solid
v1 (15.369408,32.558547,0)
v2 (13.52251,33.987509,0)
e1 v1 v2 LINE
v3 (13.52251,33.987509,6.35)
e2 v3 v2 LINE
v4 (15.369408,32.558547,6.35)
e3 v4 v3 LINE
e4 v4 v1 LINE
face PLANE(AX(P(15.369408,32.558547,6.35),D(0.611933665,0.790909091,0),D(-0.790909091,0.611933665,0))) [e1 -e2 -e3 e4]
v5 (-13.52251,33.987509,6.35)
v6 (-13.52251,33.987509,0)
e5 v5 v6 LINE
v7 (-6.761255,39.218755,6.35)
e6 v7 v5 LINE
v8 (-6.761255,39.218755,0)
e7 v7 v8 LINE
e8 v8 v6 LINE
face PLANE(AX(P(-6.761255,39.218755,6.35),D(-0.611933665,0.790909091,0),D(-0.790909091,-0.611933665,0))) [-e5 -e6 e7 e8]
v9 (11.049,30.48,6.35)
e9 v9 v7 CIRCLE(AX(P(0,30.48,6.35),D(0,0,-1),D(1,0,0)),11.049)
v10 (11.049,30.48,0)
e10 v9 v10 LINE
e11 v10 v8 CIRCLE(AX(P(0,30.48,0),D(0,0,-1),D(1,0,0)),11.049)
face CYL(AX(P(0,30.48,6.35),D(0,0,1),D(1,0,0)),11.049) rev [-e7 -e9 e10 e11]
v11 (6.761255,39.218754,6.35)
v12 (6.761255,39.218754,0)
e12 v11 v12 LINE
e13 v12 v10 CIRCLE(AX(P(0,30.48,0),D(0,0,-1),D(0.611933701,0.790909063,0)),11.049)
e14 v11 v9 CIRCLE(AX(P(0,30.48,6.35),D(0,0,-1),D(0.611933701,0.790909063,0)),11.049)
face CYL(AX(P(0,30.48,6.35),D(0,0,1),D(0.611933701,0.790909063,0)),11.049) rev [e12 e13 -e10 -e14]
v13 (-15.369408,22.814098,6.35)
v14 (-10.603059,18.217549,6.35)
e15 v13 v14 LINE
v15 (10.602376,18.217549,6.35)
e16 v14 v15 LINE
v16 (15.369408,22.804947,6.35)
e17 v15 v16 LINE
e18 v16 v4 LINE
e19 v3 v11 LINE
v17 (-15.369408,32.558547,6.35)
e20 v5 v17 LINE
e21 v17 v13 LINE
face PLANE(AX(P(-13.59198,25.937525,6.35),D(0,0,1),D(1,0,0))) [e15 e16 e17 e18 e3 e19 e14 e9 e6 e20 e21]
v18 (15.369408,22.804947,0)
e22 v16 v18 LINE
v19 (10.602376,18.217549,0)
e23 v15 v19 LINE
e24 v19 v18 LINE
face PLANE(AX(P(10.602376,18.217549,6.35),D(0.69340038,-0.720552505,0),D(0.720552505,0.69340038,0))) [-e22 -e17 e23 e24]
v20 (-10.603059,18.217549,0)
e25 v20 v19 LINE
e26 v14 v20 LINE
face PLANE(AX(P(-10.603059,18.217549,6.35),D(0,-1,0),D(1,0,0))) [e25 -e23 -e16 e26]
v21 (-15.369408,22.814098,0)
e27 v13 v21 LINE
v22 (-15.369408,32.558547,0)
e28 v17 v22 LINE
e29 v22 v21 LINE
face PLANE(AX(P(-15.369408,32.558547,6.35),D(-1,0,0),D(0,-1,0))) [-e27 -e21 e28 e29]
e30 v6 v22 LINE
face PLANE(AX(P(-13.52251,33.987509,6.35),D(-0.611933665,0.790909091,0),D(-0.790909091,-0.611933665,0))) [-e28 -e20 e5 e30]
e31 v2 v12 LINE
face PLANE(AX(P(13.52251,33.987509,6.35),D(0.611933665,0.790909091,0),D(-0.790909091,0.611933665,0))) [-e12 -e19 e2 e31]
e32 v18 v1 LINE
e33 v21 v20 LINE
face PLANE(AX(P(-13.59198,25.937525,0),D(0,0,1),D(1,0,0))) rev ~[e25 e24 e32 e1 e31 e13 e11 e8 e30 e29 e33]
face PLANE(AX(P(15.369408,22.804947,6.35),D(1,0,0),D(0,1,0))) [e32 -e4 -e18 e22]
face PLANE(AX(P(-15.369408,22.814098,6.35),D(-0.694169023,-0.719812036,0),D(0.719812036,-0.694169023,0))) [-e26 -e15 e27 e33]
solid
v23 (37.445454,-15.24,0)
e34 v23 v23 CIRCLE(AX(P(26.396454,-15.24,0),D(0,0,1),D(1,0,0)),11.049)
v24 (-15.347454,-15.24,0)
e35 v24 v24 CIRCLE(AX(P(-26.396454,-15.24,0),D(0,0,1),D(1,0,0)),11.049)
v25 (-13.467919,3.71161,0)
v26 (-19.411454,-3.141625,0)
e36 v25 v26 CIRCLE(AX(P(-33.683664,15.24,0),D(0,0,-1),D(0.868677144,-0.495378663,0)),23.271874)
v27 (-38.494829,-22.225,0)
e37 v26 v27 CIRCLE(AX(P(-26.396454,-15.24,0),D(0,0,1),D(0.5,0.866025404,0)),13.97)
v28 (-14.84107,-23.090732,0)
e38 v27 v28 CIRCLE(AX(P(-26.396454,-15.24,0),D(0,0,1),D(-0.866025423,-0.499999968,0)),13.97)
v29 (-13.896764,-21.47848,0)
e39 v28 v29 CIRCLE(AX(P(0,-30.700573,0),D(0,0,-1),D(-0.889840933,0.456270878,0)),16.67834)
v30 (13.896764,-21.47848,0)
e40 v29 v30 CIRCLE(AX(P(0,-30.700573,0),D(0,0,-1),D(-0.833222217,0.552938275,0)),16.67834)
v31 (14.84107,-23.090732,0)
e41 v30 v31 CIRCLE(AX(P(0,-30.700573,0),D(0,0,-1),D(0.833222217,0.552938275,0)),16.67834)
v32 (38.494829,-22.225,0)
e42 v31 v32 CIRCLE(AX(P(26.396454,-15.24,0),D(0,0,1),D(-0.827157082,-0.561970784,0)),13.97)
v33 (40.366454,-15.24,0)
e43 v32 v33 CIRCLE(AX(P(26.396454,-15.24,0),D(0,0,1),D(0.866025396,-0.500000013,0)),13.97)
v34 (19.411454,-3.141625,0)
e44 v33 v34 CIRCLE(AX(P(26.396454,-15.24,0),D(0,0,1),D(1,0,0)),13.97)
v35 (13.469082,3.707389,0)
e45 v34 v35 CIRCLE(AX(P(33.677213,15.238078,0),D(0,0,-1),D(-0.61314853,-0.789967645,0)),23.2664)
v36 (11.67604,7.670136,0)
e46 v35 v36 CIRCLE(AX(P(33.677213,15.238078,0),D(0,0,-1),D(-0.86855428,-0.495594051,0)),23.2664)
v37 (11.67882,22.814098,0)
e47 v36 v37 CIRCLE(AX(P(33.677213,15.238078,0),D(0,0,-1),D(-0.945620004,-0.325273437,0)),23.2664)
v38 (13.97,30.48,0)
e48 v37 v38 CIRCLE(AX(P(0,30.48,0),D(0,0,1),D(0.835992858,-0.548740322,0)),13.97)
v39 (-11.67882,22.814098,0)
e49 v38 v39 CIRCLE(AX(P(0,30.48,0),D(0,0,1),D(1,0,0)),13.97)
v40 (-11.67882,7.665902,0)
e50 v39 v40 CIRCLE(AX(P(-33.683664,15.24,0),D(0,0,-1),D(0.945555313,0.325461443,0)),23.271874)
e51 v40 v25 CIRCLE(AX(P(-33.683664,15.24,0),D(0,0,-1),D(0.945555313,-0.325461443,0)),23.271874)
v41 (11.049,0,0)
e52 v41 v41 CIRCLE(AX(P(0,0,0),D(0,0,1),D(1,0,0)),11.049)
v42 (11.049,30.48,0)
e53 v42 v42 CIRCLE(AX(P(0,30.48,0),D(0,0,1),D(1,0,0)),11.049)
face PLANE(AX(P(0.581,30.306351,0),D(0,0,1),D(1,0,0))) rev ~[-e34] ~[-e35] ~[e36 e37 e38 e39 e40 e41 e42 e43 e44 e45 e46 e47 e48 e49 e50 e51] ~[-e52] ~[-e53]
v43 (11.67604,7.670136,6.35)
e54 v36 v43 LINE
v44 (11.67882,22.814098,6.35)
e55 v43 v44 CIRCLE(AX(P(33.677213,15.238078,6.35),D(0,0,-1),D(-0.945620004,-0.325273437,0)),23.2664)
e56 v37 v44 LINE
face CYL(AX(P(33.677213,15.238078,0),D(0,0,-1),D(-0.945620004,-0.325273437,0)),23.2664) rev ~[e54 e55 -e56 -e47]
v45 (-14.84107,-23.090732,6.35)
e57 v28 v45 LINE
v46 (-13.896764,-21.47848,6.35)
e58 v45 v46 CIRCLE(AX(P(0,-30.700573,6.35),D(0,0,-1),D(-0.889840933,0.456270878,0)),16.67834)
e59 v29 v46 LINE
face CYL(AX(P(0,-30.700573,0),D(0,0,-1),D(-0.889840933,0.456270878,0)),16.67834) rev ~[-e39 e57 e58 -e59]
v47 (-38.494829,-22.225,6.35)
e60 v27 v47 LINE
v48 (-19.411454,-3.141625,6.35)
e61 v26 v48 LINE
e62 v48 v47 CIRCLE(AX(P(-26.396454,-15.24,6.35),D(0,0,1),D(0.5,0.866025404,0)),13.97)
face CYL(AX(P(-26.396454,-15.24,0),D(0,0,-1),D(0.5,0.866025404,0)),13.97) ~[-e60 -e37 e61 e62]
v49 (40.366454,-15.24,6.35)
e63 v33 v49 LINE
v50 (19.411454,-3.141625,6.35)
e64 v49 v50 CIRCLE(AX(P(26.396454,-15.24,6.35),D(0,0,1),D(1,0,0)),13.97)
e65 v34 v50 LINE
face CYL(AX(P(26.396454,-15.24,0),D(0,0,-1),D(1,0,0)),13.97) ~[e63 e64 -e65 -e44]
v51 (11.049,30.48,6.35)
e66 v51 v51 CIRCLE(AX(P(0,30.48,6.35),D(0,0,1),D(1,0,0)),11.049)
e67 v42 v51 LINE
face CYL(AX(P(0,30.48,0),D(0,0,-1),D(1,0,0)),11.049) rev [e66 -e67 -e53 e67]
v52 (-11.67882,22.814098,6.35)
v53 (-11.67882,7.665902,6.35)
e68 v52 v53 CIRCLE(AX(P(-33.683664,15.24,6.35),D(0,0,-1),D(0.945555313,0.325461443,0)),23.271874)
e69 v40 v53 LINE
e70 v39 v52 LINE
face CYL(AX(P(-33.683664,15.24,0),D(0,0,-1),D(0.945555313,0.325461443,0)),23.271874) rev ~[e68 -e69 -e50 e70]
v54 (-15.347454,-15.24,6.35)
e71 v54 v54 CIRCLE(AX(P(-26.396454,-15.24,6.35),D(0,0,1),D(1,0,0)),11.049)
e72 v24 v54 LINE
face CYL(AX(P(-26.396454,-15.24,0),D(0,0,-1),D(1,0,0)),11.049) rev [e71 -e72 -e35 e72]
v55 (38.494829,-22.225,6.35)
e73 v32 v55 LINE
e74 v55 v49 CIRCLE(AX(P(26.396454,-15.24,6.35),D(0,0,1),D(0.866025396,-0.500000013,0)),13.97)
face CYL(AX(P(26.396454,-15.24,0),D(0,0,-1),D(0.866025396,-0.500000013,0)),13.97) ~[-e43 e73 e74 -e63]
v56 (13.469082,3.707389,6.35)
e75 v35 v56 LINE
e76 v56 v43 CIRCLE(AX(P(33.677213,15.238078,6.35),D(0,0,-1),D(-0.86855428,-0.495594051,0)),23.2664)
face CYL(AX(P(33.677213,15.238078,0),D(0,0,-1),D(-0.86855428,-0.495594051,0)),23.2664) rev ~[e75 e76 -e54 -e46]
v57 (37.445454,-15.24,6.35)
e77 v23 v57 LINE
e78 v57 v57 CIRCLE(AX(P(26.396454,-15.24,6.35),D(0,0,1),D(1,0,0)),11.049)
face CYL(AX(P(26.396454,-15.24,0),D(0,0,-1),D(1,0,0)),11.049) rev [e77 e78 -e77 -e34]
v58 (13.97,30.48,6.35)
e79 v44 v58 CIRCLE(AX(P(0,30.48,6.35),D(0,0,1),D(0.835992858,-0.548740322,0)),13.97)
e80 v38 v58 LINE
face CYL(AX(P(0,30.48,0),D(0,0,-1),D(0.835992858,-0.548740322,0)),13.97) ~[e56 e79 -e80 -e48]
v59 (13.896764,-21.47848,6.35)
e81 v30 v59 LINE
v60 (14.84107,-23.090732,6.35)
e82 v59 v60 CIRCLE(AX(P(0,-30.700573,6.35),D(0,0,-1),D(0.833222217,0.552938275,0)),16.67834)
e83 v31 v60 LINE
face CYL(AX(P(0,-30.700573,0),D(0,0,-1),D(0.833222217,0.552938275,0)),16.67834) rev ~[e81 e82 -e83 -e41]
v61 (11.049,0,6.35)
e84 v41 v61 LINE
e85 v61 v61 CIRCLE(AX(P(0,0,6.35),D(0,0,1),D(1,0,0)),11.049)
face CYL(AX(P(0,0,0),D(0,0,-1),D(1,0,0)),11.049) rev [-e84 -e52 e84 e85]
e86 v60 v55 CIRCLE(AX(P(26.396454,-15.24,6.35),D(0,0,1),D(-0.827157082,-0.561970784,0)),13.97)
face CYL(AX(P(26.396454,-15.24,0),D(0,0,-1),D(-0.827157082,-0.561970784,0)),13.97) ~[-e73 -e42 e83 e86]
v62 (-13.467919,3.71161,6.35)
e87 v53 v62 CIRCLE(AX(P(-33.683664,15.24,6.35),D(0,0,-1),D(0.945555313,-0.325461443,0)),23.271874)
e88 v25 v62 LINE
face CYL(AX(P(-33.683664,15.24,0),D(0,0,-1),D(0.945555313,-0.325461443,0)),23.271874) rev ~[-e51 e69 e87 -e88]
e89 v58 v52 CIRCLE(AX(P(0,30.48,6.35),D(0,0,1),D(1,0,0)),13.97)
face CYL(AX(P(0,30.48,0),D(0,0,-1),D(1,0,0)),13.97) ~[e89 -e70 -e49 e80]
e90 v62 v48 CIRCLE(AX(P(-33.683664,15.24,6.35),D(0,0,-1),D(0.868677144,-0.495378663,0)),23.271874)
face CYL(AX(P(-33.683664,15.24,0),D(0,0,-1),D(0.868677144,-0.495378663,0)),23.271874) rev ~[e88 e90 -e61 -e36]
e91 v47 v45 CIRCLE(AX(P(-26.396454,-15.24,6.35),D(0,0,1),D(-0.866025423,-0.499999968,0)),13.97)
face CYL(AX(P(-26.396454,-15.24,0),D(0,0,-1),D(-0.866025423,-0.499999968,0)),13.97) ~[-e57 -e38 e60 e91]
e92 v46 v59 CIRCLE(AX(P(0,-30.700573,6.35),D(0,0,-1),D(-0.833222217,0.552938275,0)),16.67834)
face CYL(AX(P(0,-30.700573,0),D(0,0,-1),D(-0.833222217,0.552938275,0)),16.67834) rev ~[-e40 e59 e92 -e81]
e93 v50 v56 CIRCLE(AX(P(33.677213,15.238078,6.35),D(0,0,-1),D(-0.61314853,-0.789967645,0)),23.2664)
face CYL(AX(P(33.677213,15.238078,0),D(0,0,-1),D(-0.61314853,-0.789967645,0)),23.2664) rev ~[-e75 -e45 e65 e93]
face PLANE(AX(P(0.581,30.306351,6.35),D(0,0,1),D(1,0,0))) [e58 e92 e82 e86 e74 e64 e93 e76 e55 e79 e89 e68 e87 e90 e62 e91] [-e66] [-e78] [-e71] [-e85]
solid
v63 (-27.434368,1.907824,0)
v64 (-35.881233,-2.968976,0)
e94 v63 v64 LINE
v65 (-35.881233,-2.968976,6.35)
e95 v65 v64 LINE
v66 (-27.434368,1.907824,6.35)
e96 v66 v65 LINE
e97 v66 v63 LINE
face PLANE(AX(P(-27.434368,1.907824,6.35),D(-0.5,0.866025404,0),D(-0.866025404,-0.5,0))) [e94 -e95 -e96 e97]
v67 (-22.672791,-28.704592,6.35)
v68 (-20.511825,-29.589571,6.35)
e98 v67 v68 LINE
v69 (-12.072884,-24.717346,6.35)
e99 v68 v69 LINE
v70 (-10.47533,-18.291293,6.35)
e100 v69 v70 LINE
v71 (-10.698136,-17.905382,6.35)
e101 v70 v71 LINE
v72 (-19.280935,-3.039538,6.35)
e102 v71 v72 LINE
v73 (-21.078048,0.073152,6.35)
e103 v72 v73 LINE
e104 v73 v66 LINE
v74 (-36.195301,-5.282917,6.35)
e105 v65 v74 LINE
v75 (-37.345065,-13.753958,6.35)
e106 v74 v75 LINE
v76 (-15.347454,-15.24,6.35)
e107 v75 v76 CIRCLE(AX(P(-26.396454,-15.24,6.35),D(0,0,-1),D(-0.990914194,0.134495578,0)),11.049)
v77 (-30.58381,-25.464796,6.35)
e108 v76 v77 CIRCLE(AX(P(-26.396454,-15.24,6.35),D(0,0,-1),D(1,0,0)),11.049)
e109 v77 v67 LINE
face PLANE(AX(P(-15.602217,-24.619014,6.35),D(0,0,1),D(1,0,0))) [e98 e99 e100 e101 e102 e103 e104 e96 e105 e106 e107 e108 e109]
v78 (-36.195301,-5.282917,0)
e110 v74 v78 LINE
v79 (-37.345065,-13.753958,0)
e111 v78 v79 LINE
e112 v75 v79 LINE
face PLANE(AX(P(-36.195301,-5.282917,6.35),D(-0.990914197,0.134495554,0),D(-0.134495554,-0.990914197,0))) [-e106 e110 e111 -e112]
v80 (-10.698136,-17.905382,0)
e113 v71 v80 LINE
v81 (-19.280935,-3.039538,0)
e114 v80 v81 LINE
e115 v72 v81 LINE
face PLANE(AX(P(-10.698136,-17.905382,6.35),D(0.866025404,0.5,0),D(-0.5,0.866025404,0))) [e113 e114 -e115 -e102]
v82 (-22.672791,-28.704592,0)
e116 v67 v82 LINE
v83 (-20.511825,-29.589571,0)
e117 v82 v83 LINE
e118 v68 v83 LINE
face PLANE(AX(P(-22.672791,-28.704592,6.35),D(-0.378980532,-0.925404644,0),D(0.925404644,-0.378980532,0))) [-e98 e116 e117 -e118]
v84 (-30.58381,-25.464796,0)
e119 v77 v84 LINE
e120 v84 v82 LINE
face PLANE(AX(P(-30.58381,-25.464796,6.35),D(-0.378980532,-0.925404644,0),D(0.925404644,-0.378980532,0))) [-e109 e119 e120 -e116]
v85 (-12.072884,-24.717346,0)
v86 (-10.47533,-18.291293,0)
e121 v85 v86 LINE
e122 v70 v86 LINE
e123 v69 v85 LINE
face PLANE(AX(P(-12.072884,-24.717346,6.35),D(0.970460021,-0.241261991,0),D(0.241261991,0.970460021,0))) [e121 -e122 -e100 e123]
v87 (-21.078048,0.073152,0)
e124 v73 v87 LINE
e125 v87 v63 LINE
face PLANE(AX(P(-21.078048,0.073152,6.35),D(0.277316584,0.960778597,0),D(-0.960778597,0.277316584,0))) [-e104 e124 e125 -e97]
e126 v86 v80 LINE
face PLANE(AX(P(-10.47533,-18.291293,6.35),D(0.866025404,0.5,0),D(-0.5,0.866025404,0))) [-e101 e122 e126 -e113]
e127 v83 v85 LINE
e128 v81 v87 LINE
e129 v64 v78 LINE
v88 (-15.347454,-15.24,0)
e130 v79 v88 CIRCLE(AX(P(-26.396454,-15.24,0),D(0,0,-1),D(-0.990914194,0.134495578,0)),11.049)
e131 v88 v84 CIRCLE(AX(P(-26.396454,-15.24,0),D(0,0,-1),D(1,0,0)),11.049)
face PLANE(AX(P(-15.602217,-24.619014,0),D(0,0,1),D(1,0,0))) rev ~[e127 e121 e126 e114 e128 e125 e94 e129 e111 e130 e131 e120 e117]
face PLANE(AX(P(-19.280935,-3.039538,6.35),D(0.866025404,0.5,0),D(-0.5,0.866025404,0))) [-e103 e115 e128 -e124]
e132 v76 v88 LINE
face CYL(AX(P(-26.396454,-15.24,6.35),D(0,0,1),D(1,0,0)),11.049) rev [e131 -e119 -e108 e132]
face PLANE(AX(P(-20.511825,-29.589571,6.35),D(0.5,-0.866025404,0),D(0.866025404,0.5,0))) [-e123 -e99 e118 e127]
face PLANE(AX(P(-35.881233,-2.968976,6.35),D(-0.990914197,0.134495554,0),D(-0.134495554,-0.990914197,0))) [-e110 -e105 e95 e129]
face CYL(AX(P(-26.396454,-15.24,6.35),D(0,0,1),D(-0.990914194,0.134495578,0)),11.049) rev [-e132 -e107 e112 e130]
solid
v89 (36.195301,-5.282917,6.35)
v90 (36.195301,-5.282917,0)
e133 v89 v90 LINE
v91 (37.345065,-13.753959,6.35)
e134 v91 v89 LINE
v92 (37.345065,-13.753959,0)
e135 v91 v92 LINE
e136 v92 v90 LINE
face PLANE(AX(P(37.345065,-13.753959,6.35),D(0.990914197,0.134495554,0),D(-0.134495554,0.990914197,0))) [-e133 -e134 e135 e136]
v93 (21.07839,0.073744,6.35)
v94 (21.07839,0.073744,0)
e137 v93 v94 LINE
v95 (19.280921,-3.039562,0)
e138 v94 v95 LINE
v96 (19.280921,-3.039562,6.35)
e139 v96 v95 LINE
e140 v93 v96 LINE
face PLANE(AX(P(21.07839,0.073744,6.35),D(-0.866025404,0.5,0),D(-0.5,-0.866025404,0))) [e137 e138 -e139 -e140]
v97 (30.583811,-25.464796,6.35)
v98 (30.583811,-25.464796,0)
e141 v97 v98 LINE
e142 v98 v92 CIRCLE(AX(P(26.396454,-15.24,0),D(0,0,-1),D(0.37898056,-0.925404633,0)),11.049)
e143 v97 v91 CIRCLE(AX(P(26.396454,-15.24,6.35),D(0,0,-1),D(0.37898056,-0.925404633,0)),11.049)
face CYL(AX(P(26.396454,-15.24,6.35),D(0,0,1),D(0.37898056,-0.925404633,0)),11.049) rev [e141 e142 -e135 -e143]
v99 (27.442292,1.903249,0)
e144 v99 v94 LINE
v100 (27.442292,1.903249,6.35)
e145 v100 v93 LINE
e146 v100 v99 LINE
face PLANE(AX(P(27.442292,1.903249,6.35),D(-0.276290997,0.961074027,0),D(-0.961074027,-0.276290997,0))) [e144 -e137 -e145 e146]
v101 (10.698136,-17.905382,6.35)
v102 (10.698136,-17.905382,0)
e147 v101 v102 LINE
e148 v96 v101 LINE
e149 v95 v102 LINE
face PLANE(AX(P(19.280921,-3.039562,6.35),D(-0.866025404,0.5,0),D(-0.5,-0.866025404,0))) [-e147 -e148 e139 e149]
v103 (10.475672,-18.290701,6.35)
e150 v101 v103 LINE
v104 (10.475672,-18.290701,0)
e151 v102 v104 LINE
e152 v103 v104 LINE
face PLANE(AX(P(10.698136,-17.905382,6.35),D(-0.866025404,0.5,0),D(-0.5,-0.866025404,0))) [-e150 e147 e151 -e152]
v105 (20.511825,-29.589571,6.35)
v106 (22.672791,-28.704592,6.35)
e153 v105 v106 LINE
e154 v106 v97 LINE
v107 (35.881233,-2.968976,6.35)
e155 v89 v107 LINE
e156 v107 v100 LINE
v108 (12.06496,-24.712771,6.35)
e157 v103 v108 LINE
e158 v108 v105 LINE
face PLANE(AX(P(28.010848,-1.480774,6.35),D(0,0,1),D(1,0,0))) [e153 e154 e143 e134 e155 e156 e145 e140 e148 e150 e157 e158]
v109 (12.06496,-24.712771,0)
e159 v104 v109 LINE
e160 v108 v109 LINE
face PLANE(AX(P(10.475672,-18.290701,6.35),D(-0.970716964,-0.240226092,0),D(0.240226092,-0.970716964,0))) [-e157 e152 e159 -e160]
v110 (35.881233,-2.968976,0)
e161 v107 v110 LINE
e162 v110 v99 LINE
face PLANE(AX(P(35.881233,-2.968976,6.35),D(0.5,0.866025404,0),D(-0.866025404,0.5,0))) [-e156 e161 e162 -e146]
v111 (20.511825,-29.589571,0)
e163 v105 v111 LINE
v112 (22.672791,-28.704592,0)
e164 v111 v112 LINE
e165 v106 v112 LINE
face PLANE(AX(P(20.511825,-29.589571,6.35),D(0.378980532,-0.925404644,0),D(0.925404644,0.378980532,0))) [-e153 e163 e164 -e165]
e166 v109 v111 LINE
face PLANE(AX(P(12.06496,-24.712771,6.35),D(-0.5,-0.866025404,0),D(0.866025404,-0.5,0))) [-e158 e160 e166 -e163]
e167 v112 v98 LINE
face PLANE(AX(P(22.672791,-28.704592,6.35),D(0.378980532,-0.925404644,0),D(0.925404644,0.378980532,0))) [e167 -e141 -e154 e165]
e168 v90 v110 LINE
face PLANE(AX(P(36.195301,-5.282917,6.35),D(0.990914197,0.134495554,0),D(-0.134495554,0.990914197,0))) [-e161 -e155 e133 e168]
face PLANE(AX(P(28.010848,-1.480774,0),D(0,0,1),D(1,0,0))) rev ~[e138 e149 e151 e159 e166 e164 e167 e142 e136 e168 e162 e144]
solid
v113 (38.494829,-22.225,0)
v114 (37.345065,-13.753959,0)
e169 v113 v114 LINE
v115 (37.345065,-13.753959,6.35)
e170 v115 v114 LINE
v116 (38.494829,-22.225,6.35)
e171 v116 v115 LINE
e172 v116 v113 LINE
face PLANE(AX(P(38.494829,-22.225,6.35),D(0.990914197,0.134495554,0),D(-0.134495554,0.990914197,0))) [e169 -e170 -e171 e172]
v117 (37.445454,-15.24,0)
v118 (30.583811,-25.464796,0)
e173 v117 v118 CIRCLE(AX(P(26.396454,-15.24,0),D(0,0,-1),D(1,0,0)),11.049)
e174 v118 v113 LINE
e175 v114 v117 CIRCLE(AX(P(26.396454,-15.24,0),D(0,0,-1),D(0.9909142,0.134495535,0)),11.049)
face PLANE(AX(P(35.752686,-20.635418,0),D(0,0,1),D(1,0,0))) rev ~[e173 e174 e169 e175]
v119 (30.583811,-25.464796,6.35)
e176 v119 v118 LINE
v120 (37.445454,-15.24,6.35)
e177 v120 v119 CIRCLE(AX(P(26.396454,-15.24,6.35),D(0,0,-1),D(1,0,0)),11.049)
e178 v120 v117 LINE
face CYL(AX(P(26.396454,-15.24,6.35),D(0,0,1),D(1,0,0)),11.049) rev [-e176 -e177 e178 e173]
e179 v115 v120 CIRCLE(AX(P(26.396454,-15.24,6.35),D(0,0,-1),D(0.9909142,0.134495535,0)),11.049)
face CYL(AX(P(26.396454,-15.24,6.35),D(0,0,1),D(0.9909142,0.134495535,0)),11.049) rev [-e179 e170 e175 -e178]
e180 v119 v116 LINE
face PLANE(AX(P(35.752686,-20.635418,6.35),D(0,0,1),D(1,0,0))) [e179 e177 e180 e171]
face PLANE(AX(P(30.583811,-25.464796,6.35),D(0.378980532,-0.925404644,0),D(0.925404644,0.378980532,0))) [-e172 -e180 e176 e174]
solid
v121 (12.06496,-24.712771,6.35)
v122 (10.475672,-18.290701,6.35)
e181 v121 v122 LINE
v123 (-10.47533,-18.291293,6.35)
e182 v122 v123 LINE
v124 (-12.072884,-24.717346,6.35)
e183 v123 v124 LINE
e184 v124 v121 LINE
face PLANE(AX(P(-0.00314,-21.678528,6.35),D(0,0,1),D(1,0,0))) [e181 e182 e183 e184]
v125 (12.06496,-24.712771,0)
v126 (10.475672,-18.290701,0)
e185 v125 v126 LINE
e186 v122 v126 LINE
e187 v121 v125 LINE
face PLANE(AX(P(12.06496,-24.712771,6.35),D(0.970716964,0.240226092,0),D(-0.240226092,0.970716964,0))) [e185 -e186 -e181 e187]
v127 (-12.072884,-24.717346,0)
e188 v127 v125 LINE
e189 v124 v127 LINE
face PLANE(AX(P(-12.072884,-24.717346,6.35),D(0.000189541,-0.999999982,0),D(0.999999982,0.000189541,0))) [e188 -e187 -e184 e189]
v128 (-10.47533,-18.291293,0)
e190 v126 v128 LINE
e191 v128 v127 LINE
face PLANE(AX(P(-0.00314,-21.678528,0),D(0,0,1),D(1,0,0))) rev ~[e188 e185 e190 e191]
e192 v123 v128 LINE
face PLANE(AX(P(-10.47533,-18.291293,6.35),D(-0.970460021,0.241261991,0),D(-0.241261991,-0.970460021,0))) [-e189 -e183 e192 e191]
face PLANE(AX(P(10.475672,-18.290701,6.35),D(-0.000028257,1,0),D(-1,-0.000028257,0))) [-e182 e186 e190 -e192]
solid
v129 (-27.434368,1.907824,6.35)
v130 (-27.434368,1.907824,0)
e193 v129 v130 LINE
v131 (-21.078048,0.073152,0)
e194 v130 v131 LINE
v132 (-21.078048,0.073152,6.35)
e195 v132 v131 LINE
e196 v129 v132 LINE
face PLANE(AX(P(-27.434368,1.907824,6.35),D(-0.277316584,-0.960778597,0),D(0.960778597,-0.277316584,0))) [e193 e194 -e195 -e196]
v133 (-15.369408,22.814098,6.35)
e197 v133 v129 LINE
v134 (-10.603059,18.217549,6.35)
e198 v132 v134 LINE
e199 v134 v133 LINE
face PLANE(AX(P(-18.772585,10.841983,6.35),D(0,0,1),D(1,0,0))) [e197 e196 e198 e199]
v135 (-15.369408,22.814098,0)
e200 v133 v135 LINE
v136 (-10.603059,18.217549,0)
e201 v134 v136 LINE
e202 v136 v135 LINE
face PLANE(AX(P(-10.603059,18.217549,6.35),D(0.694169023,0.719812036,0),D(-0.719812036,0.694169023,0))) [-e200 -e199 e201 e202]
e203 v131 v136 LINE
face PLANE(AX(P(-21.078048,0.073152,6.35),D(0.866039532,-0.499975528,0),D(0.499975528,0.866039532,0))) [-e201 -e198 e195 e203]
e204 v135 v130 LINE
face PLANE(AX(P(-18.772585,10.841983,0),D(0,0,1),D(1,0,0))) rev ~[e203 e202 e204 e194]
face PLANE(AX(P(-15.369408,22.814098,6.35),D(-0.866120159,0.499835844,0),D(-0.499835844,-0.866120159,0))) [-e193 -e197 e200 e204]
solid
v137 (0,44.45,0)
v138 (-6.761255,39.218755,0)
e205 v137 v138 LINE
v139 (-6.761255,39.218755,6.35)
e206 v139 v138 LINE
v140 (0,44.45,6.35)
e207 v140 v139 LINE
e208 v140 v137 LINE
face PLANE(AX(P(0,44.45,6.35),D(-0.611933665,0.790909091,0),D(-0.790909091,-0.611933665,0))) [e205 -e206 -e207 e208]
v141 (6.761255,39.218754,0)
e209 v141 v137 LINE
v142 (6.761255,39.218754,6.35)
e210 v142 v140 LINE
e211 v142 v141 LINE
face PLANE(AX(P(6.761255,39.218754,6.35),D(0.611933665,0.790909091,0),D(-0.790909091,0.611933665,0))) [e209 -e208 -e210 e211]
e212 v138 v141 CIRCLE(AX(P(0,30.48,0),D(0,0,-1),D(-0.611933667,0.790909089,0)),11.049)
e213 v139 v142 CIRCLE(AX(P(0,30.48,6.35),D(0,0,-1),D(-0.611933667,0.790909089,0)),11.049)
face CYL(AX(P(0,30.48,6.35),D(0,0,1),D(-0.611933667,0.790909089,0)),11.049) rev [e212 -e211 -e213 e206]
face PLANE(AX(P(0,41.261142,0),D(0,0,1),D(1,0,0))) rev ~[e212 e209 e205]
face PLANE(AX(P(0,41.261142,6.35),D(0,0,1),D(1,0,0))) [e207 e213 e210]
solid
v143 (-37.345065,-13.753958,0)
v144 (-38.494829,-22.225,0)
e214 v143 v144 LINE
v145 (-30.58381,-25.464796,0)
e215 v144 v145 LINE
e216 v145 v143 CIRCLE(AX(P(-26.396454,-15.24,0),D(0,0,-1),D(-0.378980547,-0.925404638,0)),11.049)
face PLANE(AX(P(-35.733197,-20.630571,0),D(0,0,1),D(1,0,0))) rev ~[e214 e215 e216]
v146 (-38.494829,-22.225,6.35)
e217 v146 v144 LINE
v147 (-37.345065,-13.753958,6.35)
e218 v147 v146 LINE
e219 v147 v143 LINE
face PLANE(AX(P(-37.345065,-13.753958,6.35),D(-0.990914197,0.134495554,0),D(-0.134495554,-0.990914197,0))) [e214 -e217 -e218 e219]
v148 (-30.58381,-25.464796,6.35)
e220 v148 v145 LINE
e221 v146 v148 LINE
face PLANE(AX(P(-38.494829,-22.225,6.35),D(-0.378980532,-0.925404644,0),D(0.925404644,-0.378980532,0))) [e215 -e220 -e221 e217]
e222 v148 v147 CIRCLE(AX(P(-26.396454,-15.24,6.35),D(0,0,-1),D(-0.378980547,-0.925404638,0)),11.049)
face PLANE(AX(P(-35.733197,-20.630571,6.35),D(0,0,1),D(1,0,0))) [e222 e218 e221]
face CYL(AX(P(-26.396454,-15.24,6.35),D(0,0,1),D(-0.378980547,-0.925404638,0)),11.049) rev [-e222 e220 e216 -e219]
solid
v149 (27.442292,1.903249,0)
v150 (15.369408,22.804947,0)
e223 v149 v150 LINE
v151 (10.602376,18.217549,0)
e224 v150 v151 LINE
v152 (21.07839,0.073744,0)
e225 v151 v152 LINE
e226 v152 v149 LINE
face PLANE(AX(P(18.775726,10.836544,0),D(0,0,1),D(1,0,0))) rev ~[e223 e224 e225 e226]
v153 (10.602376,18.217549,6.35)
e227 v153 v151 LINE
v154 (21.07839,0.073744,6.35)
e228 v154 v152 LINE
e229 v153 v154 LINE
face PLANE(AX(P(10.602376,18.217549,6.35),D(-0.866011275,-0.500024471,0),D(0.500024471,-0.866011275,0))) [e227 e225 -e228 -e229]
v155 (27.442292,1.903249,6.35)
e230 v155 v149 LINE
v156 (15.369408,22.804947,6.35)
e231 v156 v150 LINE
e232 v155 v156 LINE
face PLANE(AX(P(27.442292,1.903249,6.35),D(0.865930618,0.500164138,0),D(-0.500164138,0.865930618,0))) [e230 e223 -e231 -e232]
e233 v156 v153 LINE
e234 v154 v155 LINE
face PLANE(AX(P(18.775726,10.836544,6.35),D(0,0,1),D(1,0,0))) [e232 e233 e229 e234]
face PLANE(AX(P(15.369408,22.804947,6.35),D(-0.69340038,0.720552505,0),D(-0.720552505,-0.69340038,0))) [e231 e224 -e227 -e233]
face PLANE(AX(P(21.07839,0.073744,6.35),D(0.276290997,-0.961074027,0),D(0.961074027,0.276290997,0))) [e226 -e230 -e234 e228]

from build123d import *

# Parameters (mm, degrees)
F0_R     = 11.049
F1_DEPTH = 6.35
F3_DEPTH = 6.35
F4_DEPTH = 6.35


with BuildPart() as f1:
    # F0 (on Top) → F1 (new body)
    with BuildSketch(Plane.XY):
        with BuildLine():
            ThreePointArc((13.97, 30.48), (9.8782817686, 40.3582816978), (1.001e-07, 44.45))
            ThreePointArc((1.001e-07, 44.45), (-12.2933631254, 37.1158212051), (-11.6788202328, 22.8140977067))
            ThreePointArc((-11.6788202328, 22.8140977067), (0, 16.51), (11.6788202328, 22.8140977067))
            ThreePointArc((11.6788202328, 22.8140977067), (13.3849545881, 26.4795136953), (13.97, 30.48))
        make_face()
        with Locations((0, 30.48)):
            Circle(F0_R, mode=Mode.SUBTRACT)
        with BuildLine():
            ThreePointArc((14.8410698741, -23.0907318513), (26.9074165938, -29.2006524755), (38.4948290898, -22.2250001877))
            ThreePointArc((38.4948290898, -22.2250001877), (39.8904380726, -18.8557021648), (40.3664543073, -15.24))
            ThreePointArc((40.3664543073, -15.24), (33.3814543073, -3.1416251091), (19.4114543073, -3.1416251091))
            ThreePointArc((19.4114543073, -3.1416251091), (13.0183619509, -11.2166251849), (13.8967636747, -21.4784801105))
            ThreePointArc((13.8967636747, -21.4784801105), (14.3915116715, -22.2713720046), (14.8410698741, -23.0907318513))
        make_face()
        with Locations((26.3964543073, -15.24)):
            Circle(F0_R, mode=Mode.SUBTRACT)
        with BuildLine():
            ThreePointArc((-19.4114543073, -3.1416251091), (-36.2747358553, -5.3617180816), (-38.4948294602, -22.2249995463))
            ThreePointArc((-38.4948294602, -22.2249995463), (-26.9074169639, -29.200652462), (-14.8410698741, -23.0907318513))
            ThreePointArc((-14.8410698741, -23.0907318513), (-14.3915116715, -22.2713720046), (-13.8967636747, -21.4784801105))
            ThreePointArc((-13.8967636747, -21.4784801105), (-12.798999065, -18.4447013794), (-12.4264543073, -15.24))
            ThreePointArc((-12.4264543073, -15.24), (-14.2980794165, -8.255), (-19.4114543073, -3.1416251091))
        make_face()
        with Locations((-26.3964543073, -15.24)):
            Circle(F0_R, mode=Mode.SUBTRACT)
        with BuildLine():
            ThreePointArc((11.6760400094, 7.6701362242), (-0.0025325784, 13.9699997704), (-11.6788202328, 7.6659022933))
            ThreePointArc((-11.6788202328, 7.6659022933), (-12.4809842339, 5.6469568625), (-13.4679192952, 3.7116101437))
            ThreePointArc((-13.4679192952, 3.7116101437), (-1.8727075915, -13.8439108014), (13.97, 0))
            ThreePointArc((13.97, 0), (13.8442041147, 1.8705380059), (13.4690819712, 3.707388684))
            ThreePointArc((13.4690819712, 3.707388684), (12.4797561144, 5.6467706201), (11.6760400094, 7.6701362242))
        make_face()
        Circle(F0_R, mode=Mode.SUBTRACT)
        with BuildLine():
            ThreePointArc((-13.4679192952, 3.7116101437), (-16.1025247385, -0.007414565), (-19.4114543073, -3.1416251091))
            ThreePointArc((-19.4114543073, -3.1416251091), (-14.2980794165, -8.255), (-12.4264543073, -15.24))
            ThreePointArc((-12.4264543073, -15.24), (-12.798999065, -18.4447013794), (-13.8967636747, -21.4784801105))
            ThreePointArc((-13.8967636747, -21.4784801105), (0, -14.0222325382), (13.8967636747, -21.4784801105))
            ThreePointArc((13.8967636747, -21.4784801105), (13.0183619509, -11.2166251849), (19.4114543073, -3.1416251091))
            ThreePointArc((19.4114543073, -3.1416251091), (16.1033825855, -0.009408381), (13.4690819712, 3.707388684))
            ThreePointArc((13.4690819712, 3.707388684), (13.8442041147, 1.8705380059), (13.97, 0))
            ThreePointArc((13.97, 0), (-1.8727075915, -13.8439108014), (-13.4679192952, 3.7116101437))
        make_face()
        with BuildLine():
            ThreePointArc((11.6788202328, 22.8140977067), (0, 16.51), (-11.6788202328, 22.8140977067))
            ThreePointArc((-11.6788202328, 22.8140977067), (-10.4117903254, 15.24), (-11.6788202328, 7.6659022933))
            ThreePointArc((-11.6788202328, 7.6659022933), (-0.0025325784, 13.9699997704), (11.6760400094, 7.6701362242))
            ThreePointArc((11.6760400094, 7.6701362242), (10.4108136569, 15.2423494989), (11.6788202328, 22.8140977067))
        make_face()
    extrude(amount=F1_DEPTH)


with BuildPart() as f3:
    # F2 (on face) → F3 (new body)
    with BuildSketch(Plane.XY.offset(6.35)):
        with BuildLine():
            Line((6.7612554594, 39.2187542369), (0, 44.45))
            Line((0, 44.45), (-6.7612550835, 39.2187545278))
            ThreePointArc((-6.7612550835, 39.2187545278), (2.377e-07, 41.529), (6.7612554594, 39.2187542369))
        make_face()
    extrude(amount=-F3_DEPTH)


with BuildPart() as f3b:
    # F2 (on face) → F3, piece 2 (new body)
    with BuildSketch(Plane.XY.offset(6.35)):
        with BuildLine():
            ThreePointArc((-30.5838103752, -25.4647958494), (-35.9651691067, -20.7644998045), (-37.3450652346, -13.7539583573))
            Line((-37.3450652346, -13.7539583573), (-38.4948291982, -22.225))
            Line((-38.4948291982, -22.225), (-30.5838103752, -25.4647958494))
        make_face()
    extrude(amount=-F3_DEPTH)


with BuildPart() as f3c:
    # F2 (on face) → F3, piece 3 (new body)
    with BuildSketch(Plane.XY.offset(6.35)):
        with BuildLine():
            Line((38.4948291982, -22.225), (37.3450652986, -13.7539588286))
            ThreePointArc((37.3450652986, -13.7539588286), (37.4203284866, -14.4952859079), (37.4454543073, -15.24))
            ThreePointArc((37.4454543073, -15.24), (35.5710523843, -21.3968783588), (30.5838105159, -25.4647957917))
            Line((30.5838105159, -25.4647957917), (38.4948291982, -22.225))
        make_face()
    extrude(amount=-F3_DEPTH)


with BuildPart() as f3d:
    # F2 (on face) → F3, piece 4 (new body)
    with BuildSketch(Plane.XY.offset(6.35)):
        with BuildLine():
            ThreePointArc((-11.6788202328, 22.8140977067), (-13.7836150335, 28.2056085193), (-13.5225101212, 33.9875090909))
            Line((-13.5225101212, 33.9875090909), (-15.3694075638, 32.5585474906))
            Line((-15.3694075638, 32.5585474906), (-15.3694075638, 22.8140977067))
            Line((-15.3694075638, 22.8140977067), (-10.6030594219, 18.2175487878))
            ThreePointArc((-10.6030594219, 18.2175487878), (-11.0240859252, 20.5431713405), (-11.6788202328, 22.8140977067))
        make_face()
        with BuildLine():
            Line((15.3694075638, 32.5585474906), (13.5225101212, 33.9875090909))
            ThreePointArc((13.5225101212, 33.9875090909), (13.7836150335, 28.2056085193), (11.6788202328, 22.8140977067))
            ThreePointArc((11.6788202328, 22.8140977067), (11.023712607, 20.5431960994), (10.6023758131, 18.2175487878))
            Line((10.6023758131, 18.2175487878), (15.3694075638, 22.8049474906))
            Line((15.3694075638, 22.8049474906), (15.3694075638, 32.5585474906))
        make_face()
        with BuildLine():
            ThreePointArc((11.049, 30.48), (-4.8669956638, 20.5606878158), (-6.7612550835, 39.2187545278))
            Line((-6.7612550835, 39.2187545278), (-13.5225101212, 33.9875090909))
            ThreePointArc((-13.5225101212, 33.9875090909), (-13.7836150335, 28.2056085193), (-11.6788202328, 22.8140977067))
            ThreePointArc((-11.6788202328, 22.8140977067), (-11.0240859252, 20.5431713405), (-10.6030594219, 18.2175487878))
            Line((-10.6030594219, 18.2175487878), (10.6023758131, 18.2175487878))
            ThreePointArc((10.6023758131, 18.2175487878), (11.023712607, 20.5431960994), (11.6788202328, 22.8140977067))
            ThreePointArc((11.6788202328, 22.8140977067), (13.7836150335, 28.2056085193), (13.5225101212, 33.9875090909))
            Line((13.5225101212, 33.9875090909), (6.7612554594, 39.2187542369))
            ThreePointArc((6.7612554594, 39.2187542369), (9.9193122889, 35.3469954504), (11.049, 30.48))
        make_face()
    extrude(amount=-F3_DEPTH)


with BuildPart() as f3e:
    # F2 (on face) → F3, piece 5 (new body)
    with BuildSketch(Plane.XY.offset(6.35)):
        with BuildLine():
            Line((-10.475330334, -18.2912932111), (-10.6981363772, -17.9053818241))
            ThreePointArc((-10.6981363772, -17.9053818241), (-13.0301468799, -20.2898904764), (-14.8410698741, -23.0907318513))
            ThreePointArc((-14.8410698741, -23.0907318513), (-18.2575858828, -26.5942820455), (-22.6727912235, -28.7045918333))
            Line((-22.6727912235, -28.7045918333), (-20.5118254553, -29.5895711366))
            Line((-20.5118254553, -29.5895711366), (-12.0728843965, -24.7173462447))
            Line((-12.0728843965, -24.7173462447), (-10.475330334, -18.2912932111))
        make_face()
        with BuildLine():
            Line((-21.0780479515, 0.0731524007), (-27.4343676407, 1.9078236461))
            Line((-27.4343676407, 1.9078236461), (-35.881233019, -2.9689763539))
            Line((-35.881233019, -2.9689763539), (-36.1953013447, -5.2829172576))
            ThreePointArc((-36.1953013447, -5.2829172576), (-28.1644239914, -1.3823240334), (-19.4114543073, -3.1416251091))
            ThreePointArc((-19.4114543073, -3.1416251091), (-19.3461039055, -3.090697795), (-19.2809352253, -3.0395381481))
            Line((-19.2809352253, -3.0395381481), (-21.0780479515, 0.0731524007))
        make_face()
        with BuildLine():
            Line((-10.6981363772, -17.9053818241), (-19.2809352253, -3.0395381481))
            ThreePointArc((-19.2809352253, -3.0395381481), (-19.3461039055, -3.090697795), (-19.4114543073, -3.1416251091))
            ThreePointArc((-19.4114543073, -3.1416251091), (-28.1644239914, -1.3823240334), (-36.1953013447, -5.2829172576))
            Line((-36.1953013447, -5.2829172576), (-37.3450652346, -13.7539583573))
            ThreePointArc((-37.3450652346, -13.7539583573), (-25.6517399779, -4.2161258367), (-15.3474543073, -15.24))
            ThreePointArc((-15.3474543073, -15.24), (-20.2395758854, -24.4145980346), (-30.5838103752, -25.4647958494))
            Line((-30.5838103752, -25.4647958494), (-22.6727912235, -28.7045918333))
            ThreePointArc((-22.6727912235, -28.7045918333), (-18.2575858828, -26.5942820455), (-14.8410698741, -23.0907318513))
            ThreePointArc((-14.8410698741, -23.0907318513), (-13.0301468799, -20.2898904764), (-10.6981363772, -17.9053818241))
        make_face()
    extrude(amount=-F3_DEPTH)


with BuildPart() as f3f:
    # F2 (on face) → F3, piece 6 (new body)
    with BuildSketch(Plane.XY.offset(6.35)):
        with BuildLine():
            Line((35.881233019, -2.9689763539), (27.4422919603, 1.903248538))
            Line((27.4422919603, 1.903248538), (21.0783897559, 0.0737444233))
            Line((21.0783897559, 0.0737444233), (19.2809212028, -3.0395624358))
            ThreePointArc((19.2809212028, -3.0395624358), (19.3460968966, -3.0907099759), (19.4114543073, -3.1416251091))
            ThreePointArc((19.4114543073, -3.1416251091), (28.1644239914, -1.3823240334), (36.1953013447, -5.2829172576))
            Line((36.1953013447, -5.2829172576), (35.881233019, -2.9689763539))
        make_face()
        with BuildLine():
            ThreePointArc((14.8410698741, -23.0907318513), (13.0301468799, -20.2898904764), (10.6981363772, -17.9053818241))
            Line((10.6981363772, -17.9053818241), (10.4756721384, -18.2907011885))
            Line((10.4756721384, -18.2907011885), (12.0649600769, -24.7127711366))
            Line((12.0649600769, -24.7127711366), (20.5118254553, -29.5895711366))
            Line((20.5118254553, -29.5895711366), (22.6727912235, -28.7045918333))
            ThreePointArc((22.6727912235, -28.7045918333), (18.2575858828, -26.5942820455), (14.8410698741, -23.0907318513))
        make_face()
        with BuildLine():
            ThreePointArc((19.4114543073, -3.1416251091), (19.3460968966, -3.0907099759), (19.2809212028, -3.0395624358))
            Line((19.2809212028, -3.0395624358), (10.6981363772, -17.9053818241))
            ThreePointArc((10.6981363772, -17.9053818241), (13.0301468799, -20.2898904764), (14.8410698741, -23.0907318513))
            ThreePointArc((14.8410698741, -23.0907318513), (18.2575858828, -26.5942820455), (22.6727912235, -28.7045918333))
            Line((22.6727912235, -28.7045918333), (30.5838105159, -25.4647957917))
            ThreePointArc((30.5838105159, -25.4647957917), (16.8277395889, -9.7155000554), (37.3450652986, -13.7539588286))
            Line((37.3450652986, -13.7539588286), (36.1953013447, -5.2829172576))
            ThreePointArc((36.1953013447, -5.2829172576), (28.1644239914, -1.3823240334), (19.4114543073, -3.1416251091))
        make_face()
    extrude(amount=-F3_DEPTH)


with BuildPart() as f4:
    # F2 (on face) → F4 (new body)
    with BuildSketch(Plane.XY.offset(6.35)):
        Polygon((-10.6030594219, 18.2175487878), (-15.3694075638, 22.8140977067), (-27.4343676407, 1.9078236461), (-21.0780479515, 0.0731524007), align=None)
    extrude(amount=-F4_DEPTH)


with BuildPart() as f4b:
    # F2 (on face) → F4, piece 2 (new body)
    with BuildSketch(Plane.XY.offset(6.35)):
        Polygon((27.4422919603, 1.903248538), (15.3694075638, 22.8049474906), (10.6023758131, 18.2175487878), (21.0783897559, 0.0737444233), align=None)
    extrude(amount=-F4_DEPTH)


with BuildPart() as f4c:
    # F2 (on face) → F4, piece 3 (new body)
    with BuildSketch(Plane.XY.offset(6.35)):
        Polygon((12.0649600769, -24.7127711366), (10.4756721384, -18.2907011885), (-10.475330334, -18.2912932111), (-12.0728843965, -24.7173462447), align=None)
    extrude(amount=-F4_DEPTH)


solid = Compound([f1.part, f3.part, f3b.part, f3c.part, f3d.part, f3e.part, f3f.part, f4.part, f4b.part, f4c.part])
